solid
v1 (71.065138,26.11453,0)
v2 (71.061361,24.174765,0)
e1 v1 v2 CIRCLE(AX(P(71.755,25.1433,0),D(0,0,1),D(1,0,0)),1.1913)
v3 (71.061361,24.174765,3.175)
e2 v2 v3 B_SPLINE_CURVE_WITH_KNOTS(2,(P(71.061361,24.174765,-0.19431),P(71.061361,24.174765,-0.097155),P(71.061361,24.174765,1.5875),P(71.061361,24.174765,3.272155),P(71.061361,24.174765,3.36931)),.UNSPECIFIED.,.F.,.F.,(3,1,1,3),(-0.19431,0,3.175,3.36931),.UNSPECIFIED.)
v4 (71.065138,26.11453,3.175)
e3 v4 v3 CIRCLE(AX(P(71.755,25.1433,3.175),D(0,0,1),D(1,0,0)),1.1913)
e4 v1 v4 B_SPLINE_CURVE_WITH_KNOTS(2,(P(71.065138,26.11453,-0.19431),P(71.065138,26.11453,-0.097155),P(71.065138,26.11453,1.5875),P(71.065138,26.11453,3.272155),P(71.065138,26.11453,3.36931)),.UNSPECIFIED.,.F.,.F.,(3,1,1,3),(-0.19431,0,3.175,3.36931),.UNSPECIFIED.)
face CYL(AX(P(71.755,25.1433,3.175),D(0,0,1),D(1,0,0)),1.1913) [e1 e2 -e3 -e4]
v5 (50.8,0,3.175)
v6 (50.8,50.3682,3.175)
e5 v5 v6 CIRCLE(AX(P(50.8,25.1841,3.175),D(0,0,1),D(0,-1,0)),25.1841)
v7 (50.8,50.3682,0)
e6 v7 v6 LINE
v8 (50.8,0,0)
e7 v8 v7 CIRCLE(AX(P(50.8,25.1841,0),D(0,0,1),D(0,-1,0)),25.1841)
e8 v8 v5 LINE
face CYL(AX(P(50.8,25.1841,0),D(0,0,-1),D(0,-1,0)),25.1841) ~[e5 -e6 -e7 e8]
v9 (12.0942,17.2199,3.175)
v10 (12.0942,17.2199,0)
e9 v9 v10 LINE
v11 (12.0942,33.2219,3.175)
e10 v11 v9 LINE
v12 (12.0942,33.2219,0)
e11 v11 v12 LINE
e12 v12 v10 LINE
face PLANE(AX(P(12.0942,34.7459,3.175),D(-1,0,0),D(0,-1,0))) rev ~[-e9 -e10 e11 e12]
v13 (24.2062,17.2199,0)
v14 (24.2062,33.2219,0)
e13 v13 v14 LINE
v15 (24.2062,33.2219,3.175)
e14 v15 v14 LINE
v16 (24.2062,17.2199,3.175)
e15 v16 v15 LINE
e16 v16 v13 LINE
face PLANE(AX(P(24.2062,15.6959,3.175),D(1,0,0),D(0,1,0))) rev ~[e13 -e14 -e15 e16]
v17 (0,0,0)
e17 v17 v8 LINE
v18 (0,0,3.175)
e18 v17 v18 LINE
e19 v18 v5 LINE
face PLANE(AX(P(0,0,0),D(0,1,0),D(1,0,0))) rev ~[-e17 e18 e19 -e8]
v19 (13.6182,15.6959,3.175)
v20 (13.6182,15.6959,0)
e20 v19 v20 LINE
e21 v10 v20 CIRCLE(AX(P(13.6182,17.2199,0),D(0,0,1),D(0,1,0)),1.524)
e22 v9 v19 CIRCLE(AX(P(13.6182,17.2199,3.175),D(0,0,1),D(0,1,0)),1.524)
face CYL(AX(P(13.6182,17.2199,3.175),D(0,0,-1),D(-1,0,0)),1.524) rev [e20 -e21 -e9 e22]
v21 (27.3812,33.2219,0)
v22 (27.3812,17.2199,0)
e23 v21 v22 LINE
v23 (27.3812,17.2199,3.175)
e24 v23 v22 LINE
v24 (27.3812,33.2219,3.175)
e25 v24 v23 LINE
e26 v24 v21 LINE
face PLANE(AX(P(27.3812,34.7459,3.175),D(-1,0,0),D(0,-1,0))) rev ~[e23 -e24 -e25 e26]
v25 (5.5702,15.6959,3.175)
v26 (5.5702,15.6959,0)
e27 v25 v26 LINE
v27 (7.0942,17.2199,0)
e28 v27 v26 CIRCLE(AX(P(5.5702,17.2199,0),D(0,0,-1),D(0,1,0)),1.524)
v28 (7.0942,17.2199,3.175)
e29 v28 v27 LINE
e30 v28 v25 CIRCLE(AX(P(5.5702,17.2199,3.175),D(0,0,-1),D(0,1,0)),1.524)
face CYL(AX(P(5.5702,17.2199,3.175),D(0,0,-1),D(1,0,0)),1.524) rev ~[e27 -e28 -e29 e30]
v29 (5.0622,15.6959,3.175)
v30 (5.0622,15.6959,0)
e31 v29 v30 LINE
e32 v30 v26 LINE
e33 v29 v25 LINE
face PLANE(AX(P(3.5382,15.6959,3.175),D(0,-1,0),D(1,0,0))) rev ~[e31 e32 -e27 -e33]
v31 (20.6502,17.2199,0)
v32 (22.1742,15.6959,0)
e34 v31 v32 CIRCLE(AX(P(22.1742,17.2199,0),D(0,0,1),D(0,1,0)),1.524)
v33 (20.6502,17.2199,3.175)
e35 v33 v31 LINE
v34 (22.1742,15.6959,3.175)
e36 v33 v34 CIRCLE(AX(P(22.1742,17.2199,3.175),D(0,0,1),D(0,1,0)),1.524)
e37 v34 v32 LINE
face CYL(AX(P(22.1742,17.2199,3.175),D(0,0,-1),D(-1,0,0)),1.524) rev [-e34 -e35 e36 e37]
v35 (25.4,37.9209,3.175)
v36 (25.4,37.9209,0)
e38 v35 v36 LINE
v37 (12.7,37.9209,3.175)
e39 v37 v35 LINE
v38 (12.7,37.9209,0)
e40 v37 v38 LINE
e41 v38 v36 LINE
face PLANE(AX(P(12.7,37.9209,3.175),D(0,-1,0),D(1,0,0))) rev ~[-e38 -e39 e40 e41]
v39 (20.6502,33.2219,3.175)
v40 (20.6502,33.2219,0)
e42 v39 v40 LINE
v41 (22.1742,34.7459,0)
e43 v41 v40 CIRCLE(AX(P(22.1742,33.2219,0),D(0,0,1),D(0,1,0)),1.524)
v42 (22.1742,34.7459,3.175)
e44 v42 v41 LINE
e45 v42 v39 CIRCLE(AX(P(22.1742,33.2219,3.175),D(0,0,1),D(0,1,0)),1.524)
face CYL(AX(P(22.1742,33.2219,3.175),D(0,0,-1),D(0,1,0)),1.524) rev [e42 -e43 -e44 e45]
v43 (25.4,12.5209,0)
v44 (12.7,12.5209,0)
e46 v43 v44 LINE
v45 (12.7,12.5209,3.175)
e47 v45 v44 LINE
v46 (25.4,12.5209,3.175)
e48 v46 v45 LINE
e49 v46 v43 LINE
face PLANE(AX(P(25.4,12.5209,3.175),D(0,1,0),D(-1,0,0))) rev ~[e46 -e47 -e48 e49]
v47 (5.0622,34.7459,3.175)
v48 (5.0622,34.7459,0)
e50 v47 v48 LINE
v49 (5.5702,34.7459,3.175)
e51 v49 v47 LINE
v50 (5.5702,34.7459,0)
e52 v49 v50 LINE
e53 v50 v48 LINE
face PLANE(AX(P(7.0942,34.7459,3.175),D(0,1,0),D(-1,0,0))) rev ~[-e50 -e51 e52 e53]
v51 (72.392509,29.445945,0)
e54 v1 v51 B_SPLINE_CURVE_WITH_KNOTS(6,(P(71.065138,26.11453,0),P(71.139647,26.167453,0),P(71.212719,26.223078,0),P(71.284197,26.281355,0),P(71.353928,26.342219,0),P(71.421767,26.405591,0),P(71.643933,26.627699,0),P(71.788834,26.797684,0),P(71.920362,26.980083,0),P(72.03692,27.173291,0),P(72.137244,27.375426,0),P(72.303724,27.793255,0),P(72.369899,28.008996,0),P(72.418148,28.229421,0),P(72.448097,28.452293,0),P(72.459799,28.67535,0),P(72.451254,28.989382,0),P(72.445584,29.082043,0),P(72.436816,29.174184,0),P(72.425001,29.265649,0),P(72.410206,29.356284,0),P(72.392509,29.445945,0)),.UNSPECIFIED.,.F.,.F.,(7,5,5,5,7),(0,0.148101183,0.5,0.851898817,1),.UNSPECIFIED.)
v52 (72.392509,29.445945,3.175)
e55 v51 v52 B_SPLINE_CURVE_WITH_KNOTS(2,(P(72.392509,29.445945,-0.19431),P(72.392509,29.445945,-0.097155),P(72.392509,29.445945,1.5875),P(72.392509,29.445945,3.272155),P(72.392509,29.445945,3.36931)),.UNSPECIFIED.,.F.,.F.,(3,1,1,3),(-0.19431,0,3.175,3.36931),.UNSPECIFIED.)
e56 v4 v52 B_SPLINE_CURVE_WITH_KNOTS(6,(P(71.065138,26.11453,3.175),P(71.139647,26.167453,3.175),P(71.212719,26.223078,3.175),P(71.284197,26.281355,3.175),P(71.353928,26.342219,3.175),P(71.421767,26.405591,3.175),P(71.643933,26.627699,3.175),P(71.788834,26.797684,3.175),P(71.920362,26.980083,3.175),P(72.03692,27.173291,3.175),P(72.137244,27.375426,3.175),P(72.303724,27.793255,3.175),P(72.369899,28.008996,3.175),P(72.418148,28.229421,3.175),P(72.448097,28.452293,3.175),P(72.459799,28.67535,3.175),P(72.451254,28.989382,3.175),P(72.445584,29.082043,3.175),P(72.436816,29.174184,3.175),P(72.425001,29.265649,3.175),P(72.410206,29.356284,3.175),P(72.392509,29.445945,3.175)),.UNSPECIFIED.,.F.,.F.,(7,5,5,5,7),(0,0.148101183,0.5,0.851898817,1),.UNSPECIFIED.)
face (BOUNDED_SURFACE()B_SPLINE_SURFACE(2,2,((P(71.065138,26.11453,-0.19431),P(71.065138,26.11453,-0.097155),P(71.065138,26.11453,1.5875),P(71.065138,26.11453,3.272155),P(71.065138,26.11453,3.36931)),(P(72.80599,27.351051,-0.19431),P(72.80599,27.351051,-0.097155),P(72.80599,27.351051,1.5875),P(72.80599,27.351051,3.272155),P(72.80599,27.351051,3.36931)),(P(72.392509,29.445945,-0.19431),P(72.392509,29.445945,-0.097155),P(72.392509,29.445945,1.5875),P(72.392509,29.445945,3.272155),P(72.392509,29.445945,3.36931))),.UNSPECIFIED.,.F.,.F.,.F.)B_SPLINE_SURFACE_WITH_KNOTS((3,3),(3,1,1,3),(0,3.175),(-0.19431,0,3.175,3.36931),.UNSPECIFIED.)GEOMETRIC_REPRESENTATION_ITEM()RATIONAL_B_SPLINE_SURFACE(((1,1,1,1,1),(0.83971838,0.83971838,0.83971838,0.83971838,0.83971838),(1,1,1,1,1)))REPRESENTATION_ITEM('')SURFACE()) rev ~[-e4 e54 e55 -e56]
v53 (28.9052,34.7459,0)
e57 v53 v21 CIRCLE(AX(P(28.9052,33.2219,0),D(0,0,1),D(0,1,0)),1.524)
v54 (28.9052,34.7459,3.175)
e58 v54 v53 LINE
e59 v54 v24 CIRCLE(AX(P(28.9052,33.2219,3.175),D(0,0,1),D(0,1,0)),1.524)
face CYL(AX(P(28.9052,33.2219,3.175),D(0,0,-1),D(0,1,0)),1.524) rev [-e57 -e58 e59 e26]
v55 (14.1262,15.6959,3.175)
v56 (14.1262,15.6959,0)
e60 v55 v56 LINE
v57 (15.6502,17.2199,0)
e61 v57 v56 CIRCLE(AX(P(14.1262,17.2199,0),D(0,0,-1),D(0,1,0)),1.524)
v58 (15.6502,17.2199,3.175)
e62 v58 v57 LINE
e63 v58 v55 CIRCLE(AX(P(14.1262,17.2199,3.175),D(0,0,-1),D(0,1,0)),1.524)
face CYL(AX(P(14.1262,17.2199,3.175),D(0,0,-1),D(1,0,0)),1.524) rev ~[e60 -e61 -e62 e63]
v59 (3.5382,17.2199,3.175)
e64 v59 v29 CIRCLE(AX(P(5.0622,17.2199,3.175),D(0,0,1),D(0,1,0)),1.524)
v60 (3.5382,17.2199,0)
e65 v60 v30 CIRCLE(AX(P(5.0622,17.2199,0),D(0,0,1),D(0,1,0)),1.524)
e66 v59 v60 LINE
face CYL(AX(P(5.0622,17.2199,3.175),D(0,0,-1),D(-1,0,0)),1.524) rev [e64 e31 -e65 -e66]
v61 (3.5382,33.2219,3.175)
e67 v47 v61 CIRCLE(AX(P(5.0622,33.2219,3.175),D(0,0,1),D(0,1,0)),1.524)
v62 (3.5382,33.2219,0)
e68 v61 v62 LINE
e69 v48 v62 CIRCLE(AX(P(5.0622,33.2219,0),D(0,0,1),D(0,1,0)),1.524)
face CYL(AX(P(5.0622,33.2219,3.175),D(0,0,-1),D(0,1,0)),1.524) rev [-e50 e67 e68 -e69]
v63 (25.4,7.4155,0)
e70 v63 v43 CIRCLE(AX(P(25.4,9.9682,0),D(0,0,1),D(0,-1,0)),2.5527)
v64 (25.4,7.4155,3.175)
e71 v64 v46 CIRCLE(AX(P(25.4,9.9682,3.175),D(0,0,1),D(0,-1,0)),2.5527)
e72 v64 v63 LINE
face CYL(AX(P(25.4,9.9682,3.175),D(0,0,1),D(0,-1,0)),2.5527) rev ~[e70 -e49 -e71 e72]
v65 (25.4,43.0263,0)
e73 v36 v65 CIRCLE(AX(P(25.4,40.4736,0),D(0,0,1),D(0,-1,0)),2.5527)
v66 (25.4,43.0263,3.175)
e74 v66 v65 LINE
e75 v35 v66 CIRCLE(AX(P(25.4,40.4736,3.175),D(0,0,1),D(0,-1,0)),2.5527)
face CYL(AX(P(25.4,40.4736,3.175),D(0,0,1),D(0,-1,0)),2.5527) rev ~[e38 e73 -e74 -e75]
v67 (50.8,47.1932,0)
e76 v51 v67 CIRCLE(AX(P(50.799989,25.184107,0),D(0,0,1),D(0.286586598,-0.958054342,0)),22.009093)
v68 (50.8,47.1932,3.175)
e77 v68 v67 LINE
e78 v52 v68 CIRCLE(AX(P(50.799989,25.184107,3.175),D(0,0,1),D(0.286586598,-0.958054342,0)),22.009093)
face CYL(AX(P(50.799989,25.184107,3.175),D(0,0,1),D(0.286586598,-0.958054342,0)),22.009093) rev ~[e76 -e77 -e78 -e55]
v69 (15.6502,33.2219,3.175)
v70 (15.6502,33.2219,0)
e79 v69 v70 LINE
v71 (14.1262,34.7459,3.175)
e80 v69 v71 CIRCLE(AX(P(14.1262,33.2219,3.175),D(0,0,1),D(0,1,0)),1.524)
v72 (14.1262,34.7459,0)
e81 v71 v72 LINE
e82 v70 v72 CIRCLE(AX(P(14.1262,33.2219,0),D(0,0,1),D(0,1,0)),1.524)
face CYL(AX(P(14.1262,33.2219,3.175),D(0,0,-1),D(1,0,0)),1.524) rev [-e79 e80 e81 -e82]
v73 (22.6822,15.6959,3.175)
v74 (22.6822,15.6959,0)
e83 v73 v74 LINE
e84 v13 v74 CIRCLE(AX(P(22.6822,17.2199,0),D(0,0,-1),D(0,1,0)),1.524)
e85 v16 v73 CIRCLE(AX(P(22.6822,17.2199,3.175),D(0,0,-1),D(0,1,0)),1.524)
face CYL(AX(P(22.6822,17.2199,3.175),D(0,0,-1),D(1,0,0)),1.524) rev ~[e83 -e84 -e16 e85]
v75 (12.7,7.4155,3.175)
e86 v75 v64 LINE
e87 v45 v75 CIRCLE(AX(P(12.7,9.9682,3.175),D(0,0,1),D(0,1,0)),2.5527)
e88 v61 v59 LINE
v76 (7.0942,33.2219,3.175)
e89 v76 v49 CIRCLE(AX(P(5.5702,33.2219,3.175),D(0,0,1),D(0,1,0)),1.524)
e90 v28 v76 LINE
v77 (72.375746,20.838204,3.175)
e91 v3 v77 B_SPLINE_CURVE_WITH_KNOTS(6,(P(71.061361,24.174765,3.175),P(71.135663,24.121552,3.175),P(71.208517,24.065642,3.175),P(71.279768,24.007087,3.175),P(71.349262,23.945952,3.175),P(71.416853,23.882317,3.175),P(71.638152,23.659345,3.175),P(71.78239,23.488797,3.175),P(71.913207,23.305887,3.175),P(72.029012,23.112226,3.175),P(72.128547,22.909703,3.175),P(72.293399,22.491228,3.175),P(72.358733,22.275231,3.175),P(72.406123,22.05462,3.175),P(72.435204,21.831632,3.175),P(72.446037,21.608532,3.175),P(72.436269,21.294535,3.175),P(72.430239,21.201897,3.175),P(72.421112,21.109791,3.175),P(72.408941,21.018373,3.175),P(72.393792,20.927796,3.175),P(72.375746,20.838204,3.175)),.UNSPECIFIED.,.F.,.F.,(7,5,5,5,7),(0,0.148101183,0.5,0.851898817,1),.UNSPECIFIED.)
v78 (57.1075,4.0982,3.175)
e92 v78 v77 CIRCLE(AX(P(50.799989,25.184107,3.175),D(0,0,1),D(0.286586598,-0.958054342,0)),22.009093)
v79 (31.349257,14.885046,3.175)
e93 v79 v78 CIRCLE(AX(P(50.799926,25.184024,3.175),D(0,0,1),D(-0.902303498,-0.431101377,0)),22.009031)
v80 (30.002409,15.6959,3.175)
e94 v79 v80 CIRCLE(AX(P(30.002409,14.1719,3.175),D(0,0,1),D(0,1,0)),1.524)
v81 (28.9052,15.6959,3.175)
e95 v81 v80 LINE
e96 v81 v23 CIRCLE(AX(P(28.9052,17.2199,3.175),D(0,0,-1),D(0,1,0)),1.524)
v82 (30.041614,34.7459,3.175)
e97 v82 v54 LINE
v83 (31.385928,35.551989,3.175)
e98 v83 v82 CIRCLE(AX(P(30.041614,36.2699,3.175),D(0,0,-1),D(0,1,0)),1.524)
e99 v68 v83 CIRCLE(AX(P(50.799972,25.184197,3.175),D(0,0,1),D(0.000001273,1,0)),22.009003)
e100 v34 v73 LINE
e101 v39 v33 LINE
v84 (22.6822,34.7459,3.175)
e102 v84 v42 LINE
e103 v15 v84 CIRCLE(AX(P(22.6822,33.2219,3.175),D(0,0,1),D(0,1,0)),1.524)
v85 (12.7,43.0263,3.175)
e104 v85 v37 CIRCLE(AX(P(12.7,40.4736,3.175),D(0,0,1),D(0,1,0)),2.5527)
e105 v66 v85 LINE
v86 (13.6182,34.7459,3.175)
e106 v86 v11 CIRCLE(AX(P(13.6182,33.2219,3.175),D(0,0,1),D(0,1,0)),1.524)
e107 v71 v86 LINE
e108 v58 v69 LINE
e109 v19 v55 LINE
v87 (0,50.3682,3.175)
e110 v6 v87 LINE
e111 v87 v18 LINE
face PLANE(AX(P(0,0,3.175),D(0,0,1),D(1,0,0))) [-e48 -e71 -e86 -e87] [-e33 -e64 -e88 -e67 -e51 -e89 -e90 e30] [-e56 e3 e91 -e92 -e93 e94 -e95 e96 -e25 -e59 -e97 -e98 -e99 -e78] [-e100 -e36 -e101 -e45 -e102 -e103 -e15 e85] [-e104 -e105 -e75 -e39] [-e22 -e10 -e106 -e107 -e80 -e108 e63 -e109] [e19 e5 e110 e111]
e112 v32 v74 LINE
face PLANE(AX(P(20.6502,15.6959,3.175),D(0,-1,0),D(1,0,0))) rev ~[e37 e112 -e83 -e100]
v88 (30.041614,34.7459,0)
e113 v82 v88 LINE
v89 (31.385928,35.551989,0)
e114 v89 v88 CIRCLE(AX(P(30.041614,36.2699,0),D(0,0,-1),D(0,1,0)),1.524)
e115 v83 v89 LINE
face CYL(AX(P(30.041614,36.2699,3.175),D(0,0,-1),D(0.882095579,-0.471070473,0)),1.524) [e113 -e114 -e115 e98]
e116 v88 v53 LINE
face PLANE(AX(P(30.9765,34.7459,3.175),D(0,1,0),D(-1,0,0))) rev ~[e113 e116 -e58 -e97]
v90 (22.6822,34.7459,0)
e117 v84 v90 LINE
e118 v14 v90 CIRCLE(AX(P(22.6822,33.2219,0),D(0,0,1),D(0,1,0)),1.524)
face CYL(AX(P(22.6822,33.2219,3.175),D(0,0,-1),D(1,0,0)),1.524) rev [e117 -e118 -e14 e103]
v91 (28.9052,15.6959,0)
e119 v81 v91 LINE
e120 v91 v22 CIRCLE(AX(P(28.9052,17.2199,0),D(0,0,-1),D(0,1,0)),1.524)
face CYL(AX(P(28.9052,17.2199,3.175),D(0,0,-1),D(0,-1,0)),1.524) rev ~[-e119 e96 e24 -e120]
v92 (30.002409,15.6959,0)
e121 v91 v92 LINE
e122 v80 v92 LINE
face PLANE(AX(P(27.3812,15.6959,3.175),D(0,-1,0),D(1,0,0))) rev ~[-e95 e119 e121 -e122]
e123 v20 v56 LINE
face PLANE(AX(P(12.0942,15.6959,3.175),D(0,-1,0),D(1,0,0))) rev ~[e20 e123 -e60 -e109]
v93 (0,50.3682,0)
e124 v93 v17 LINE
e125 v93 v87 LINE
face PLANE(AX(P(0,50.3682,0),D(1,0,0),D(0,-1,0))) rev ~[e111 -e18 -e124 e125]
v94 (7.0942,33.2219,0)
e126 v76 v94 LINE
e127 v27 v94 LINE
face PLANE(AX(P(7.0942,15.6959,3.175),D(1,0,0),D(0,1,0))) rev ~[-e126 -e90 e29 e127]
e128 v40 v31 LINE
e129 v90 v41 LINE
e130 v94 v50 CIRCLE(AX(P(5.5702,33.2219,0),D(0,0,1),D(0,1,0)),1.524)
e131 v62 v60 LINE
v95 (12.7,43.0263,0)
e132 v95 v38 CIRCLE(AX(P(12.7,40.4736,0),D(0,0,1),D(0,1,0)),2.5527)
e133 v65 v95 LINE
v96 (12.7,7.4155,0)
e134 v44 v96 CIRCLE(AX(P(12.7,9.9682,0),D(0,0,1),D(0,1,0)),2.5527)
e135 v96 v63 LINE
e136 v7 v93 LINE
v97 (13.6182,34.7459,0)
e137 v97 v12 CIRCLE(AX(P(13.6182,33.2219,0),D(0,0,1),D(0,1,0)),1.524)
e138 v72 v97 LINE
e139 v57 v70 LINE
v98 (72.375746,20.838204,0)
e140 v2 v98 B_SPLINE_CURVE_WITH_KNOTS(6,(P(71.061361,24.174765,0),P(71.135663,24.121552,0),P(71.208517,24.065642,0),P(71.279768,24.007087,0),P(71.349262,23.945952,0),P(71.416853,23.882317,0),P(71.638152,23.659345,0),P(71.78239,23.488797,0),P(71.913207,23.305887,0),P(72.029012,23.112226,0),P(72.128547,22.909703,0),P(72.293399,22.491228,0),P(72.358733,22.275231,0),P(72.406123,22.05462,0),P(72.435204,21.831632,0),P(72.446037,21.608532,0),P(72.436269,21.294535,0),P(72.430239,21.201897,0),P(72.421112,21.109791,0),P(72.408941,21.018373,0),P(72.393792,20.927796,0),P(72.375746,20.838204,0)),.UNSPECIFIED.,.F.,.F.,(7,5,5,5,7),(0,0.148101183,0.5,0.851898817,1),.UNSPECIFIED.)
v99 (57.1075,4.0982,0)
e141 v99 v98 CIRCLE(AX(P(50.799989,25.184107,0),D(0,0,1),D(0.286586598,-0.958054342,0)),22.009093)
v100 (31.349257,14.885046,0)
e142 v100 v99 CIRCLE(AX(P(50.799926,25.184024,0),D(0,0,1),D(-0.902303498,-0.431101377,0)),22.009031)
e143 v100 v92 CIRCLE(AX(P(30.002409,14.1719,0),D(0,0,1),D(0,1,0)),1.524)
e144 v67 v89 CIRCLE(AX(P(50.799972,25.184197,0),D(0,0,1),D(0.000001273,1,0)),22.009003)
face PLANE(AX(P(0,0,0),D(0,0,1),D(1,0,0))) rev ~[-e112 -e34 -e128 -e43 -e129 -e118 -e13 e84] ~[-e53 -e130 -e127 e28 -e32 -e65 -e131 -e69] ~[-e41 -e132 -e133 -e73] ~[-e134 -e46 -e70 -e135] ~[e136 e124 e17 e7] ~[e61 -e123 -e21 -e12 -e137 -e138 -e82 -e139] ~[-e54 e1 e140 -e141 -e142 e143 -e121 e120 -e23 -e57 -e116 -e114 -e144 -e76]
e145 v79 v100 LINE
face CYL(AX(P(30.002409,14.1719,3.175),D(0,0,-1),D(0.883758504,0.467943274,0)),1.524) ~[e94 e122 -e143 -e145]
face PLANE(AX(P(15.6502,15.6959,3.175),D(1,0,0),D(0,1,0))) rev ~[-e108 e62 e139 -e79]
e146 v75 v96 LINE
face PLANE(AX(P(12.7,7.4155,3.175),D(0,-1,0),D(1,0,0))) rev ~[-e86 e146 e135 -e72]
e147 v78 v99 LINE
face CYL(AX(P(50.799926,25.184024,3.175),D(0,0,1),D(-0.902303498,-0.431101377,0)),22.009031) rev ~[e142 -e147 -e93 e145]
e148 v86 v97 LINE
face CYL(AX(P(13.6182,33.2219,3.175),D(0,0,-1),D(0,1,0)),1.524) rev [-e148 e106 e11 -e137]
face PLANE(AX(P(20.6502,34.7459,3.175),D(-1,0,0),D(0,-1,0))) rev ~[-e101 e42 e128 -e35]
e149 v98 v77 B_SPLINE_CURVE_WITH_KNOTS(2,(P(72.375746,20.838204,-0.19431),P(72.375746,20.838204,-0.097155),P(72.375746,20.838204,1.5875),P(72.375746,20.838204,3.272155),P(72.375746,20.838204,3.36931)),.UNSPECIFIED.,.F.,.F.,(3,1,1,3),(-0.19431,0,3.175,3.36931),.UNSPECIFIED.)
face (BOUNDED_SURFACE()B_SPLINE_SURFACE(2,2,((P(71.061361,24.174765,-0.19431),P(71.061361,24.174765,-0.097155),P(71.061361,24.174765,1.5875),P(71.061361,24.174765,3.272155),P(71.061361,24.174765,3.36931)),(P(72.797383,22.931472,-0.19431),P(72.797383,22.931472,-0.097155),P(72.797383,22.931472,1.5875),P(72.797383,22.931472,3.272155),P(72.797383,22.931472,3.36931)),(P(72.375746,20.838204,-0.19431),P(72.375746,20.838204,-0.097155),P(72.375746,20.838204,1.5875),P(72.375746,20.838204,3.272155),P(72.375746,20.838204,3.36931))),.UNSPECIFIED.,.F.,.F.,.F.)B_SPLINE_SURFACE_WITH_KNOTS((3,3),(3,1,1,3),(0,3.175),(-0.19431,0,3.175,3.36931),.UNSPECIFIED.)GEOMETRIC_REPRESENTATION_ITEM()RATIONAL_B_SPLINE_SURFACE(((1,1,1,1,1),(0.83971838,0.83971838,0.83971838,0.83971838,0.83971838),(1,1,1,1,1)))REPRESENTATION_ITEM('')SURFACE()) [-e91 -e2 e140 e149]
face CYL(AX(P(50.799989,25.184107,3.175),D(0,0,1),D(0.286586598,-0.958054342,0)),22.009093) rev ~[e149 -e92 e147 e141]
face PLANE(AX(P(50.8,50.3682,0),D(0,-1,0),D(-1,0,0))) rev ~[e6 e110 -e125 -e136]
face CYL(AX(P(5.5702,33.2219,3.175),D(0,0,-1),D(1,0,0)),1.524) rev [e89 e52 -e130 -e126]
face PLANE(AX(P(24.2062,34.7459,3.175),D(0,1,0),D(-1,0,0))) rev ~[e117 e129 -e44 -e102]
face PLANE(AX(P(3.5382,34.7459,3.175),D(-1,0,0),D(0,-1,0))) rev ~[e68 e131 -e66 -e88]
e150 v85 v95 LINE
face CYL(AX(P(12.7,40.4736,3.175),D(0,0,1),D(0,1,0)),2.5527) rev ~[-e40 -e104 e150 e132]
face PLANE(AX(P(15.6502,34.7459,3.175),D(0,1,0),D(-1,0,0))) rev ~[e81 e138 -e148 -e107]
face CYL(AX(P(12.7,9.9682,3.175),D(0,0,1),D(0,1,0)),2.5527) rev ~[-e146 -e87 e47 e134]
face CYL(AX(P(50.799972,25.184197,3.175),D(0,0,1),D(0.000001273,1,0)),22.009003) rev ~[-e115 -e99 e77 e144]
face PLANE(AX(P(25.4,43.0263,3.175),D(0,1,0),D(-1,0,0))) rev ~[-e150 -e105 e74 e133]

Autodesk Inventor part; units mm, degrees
ref_plane "YZ Plane" through (0, 0, 0) normal (1, 0, 0) x (0, 1, 0)
ref_plane "XZ Plane" through (0, 0, 0) normal (0, 1, 0) x (-1, 0, 0)
ref_plane "XY Plane" through (0, 0, 0) normal (0, 0, 1) x (1, 0, 0)
sketch "Sketch1" plane through (0, 0, 0) normal (0, 0, 1) x (1, 0, 0)
  line L0 (0, 0) -> (50.8, 0) construction
  line L1 (50.8, 0) -> (50.8, 50.3682) construction
  line L2 (50.8, 50.3682) -> (0, 50.3682) construction
  line L3 (0, 50.3682) -> (0, 0) construction
  circle A0 centre (50.8, 25.1841) radius 25.1841 construction
  line L4 (0, 0) -> (50.8, 0)
  line L5 (50.8, 0) -> (50.8, 50.3682) construction
  line L6 (50.8, 50.3682) -> (0, 50.3682)
  line L7 (0, 50.3682) -> (0, 0)
  arc A1 (50.8, 0) -> (50.8, 50.3682) centre (50.8, 25.1841) ccw
  dimension "d0" = 50.8
  dimension "d1" = 50.3682
extrude "Extrusion1" add sketch "Sketch1" along normal blind 3.175
sketch "Sketch2" plane through (0, 0, 3.175) normal (0, 0, 1) x (1, 0, 0)
  arc A0 (50.8, 0) -> (50.8, 50.3682) centre (50.8, 25.1841) ccw projected
  arc A1 (57.1075, 4.0982) -> (50.8, 47.1932) centre (50.8, 25.1841) ccw
  line L0 (27.3812, 15.6959) -> (33.7312, 15.6959)
  line L1 (33.7312, 15.6959) -> (33.7312, 34.7459)
  line L2 (33.7312, 34.7459) -> (27.3812, 34.7459)
  line L3 (27.3812, 34.7459) -> (27.3812, 15.6959)
  line L4 (27.3812, 15.6959) -> (33.7312, 34.7459) construction
  line L5 (33.7312, 15.6959) -> (27.3812, 34.7459) construction
  arc A2 (50.8, 47.1932) -> (30.9765, 34.7459) centre (50.8, 25.1841) ccw
  arc A3 (30.9411, 15.6959) -> (57.1075, 4.0982) centre (50.8, 25.1841) ccw
  line L6 (0, 50.3682) -> (0, 0) projected
  line L7 (50.8, 50.3682) -> (0, 50.3682) projected
  point P0 (30.5562, 25.2209)
  dimension "d6" = 3.175
  dimension "d7" = 6.35
  dimension "d8" = 19.05
  dimension "d9" = 12.4473
  dimension "d10" = 27.3812
  dimension "d11" = 15.6223
extrude "Extrusion2" cut sketch "Sketch2" against normal blind 3.175
sketch "Sketch3" plane through (0, 0, 3.175) normal (0, 0, 1) x (1, 0, 0)
  circle A0 centre (71.755, 25.1433) radius 1.1913
  line L0 (30.9411, 15.6959) -> (27.3812, 15.6959) projected
  line L1 (27.3812, 15.6959) -> (27.3812, 34.7459) projected
  line L2 (27.3812, 34.7459) -> (30.9765, 34.7459) projected
  arc A1 (30.9411, 15.6959) -> (30.9765, 34.7459) centre (50.8, 25.1841) ccw projected
  arc A2 (50.8, 0) -> (50.8, 50.3682) centre (50.8, 25.1841) ccw projected
  line L3 (50.8, 50.3682) -> (0, 50.3682) projected
  line L4 (0, 50.3682) -> (0, 0) projected
  line L5 (0, 0) -> (50.8, 0) projected
  point P0 (72.8091, 25.1433)
  point P1 (72.8006, 24.5725)
  point P2 (72.8028, 25.71)
  dimension "d14" = 2.3825
  dimension "d15" = 20.955
extrude "Extrusion3" add sketch "Sketch3" against normal up to surface (3.175 mm away) contours A1 A0 picked at (72.0601, 25.1427)
fillet "Fillet1" radius 3.302 2 edges at (72.8006, 24.5725, 1.5875) (72.8028, 25.71, 1.5875)
sketch "Sketch4" plane through (0, 0, 3.175) normal (0, 0, 1) x (1, 0, 0)
  line L0 (24.2062, 34.7459) -> (20.6502, 34.7459)
  line L1 (20.6502, 34.7459) -> (20.6502, 15.6959)
  line L2 (20.6502, 15.6959) -> (24.2062, 15.6959)
  line L3 (24.2062, 15.6959) -> (24.2062, 34.7459)
  line L4 (24.2062, 34.7459) -> (20.6502, 15.6959) construction
  line L5 (20.6502, 34.7459) -> (24.2062, 15.6959) construction
  line L6 (15.6502, 34.7459) -> (12.0942, 34.7459)
  line L7 (12.0942, 34.7459) -> (12.0942, 15.6959)
  line L8 (12.0942, 15.6959) -> (15.6502, 15.6959)
  line L9 (15.6502, 15.6959) -> (15.6502, 34.7459)
  line L10 (15.6502, 34.7459) -> (12.0942, 15.6959) construction
  line L11 (12.0942, 34.7459) -> (15.6502, 15.6959) construction
  line L12 (7.0942, 34.7459) -> (3.5382, 34.7459)
  line L13 (3.5382, 34.7459) -> (3.5382, 15.6959)
  line L14 (3.5382, 15.6959) -> (7.0942, 15.6959)
  line L15 (7.0942, 15.6959) -> (7.0942, 34.7459)
  line L16 (7.0942, 34.7459) -> (3.5382, 15.6959) construction
  line L17 (3.5382, 34.7459) -> (7.0942, 15.6959) construction
  line L18 (27.3812, 15.6959) -> (27.3812, 34.7459) projected
  line L19 (0, 50.3682) -> (0, 0) projected
  line L20 (27.3812, 34.7459) -> (30.9765, 34.7459) projected
  line L21 (27.9527, 9.9682) -> (10.1473, 9.9682) construction
  line L22 (25.4, 12.5209) -> (12.7, 12.5209)
  line L23 (12.7, 7.4155) -> (25.4, 7.4155)
  arc A0 (25.4, 7.4155) -> (25.4, 12.5209) centre (25.4, 9.9682) ccw
  arc A1 (12.7, 12.5209) -> (12.7, 7.4155) centre (12.7, 9.9682) ccw
  line L24 (27.9527, 40.4736) -> (10.1473, 40.4736) construction
  line L25 (25.4, 43.0263) -> (12.7, 43.0263)
  line L26 (12.7, 37.9209) -> (25.4, 37.9209)
  arc A2 (25.4, 37.9209) -> (25.4, 43.0263) centre (25.4, 40.4736) ccw
  arc A3 (12.7, 43.0263) -> (12.7, 37.9209) centre (12.7, 40.4736) ccw
  line L27 (30.9411, 15.6959) -> (27.3812, 15.6959) projected
  point P0 (22.4282, 25.2209)
  point P1 (13.8722, 25.2209)
  point P2 (5.3162, 25.2209)
  point P3 (27.3812, 25.2209)
  point P4 (19.05, 9.9682)
  point P5 (19.05, 40.4736)
  point P6 (27.9527, 40.4736)
  point P7 (12.0942, 25.2209)
  dimension "d19" = 3.175
  dimension "d20" = 5
  dimension "d21" = 5
  dimension "d22" = 3.556
  dimension "d23" = 3.556
  dimension "d24" = 3.556
  dimension "d25" = 19.05
  dimension "d26" = 19.05
  dimension "d27" = 19.05
  dimension "d28" = 3.5382
  dimension "d29" = 5.1054
  dimension "d30" = 5.1054
  dimension "d33" = 12.7
  dimension "d34" = 12.7
  dimension "d35" = 3.175
  dimension "d36" = 3.175
  dimension "d37" = 19.05
extrude "Extrusion4" cut sketch "Sketch4" against normal blind 25.4
fillet "Fillet2" radius 1.524 16 edges at (3.5382, 34.7459, 1.5875) (7.0942, 34.7459, 1.5875) (3.5382, 15.6959, 1.5875) (7.0942, 15.6959, 1.5875) (12.0942, 34.7459, 1.5875) (15.6502, 34.7459, 1.5875) (15.6502, 15.6959, 1.5875) (12.0942, 15.6959, 1.5875) (24.2062, 34.7459, 1.5875) (20.6502, 34.7459, 1.5875) (20.6502, 15.6959, 1.5875) (24.2062, 15.6959, 1.5875) (27.3812, 34.7459, 1.5875) (27.3812, 15.6959, 1.5875) (30.9411, 15.6959, 1.5875) (30.9765, 34.7459, 1.5875)
equation "\"d22\" = d23"
equation "\"d24\" = d23"
equation "\"d26\" = d25"
equation "\"d27\" = d25"
equation "\"d34\" = d33"
equation "\"d36\" = d35"
properties part number "EL2-009" material "Aluminum 6061"
